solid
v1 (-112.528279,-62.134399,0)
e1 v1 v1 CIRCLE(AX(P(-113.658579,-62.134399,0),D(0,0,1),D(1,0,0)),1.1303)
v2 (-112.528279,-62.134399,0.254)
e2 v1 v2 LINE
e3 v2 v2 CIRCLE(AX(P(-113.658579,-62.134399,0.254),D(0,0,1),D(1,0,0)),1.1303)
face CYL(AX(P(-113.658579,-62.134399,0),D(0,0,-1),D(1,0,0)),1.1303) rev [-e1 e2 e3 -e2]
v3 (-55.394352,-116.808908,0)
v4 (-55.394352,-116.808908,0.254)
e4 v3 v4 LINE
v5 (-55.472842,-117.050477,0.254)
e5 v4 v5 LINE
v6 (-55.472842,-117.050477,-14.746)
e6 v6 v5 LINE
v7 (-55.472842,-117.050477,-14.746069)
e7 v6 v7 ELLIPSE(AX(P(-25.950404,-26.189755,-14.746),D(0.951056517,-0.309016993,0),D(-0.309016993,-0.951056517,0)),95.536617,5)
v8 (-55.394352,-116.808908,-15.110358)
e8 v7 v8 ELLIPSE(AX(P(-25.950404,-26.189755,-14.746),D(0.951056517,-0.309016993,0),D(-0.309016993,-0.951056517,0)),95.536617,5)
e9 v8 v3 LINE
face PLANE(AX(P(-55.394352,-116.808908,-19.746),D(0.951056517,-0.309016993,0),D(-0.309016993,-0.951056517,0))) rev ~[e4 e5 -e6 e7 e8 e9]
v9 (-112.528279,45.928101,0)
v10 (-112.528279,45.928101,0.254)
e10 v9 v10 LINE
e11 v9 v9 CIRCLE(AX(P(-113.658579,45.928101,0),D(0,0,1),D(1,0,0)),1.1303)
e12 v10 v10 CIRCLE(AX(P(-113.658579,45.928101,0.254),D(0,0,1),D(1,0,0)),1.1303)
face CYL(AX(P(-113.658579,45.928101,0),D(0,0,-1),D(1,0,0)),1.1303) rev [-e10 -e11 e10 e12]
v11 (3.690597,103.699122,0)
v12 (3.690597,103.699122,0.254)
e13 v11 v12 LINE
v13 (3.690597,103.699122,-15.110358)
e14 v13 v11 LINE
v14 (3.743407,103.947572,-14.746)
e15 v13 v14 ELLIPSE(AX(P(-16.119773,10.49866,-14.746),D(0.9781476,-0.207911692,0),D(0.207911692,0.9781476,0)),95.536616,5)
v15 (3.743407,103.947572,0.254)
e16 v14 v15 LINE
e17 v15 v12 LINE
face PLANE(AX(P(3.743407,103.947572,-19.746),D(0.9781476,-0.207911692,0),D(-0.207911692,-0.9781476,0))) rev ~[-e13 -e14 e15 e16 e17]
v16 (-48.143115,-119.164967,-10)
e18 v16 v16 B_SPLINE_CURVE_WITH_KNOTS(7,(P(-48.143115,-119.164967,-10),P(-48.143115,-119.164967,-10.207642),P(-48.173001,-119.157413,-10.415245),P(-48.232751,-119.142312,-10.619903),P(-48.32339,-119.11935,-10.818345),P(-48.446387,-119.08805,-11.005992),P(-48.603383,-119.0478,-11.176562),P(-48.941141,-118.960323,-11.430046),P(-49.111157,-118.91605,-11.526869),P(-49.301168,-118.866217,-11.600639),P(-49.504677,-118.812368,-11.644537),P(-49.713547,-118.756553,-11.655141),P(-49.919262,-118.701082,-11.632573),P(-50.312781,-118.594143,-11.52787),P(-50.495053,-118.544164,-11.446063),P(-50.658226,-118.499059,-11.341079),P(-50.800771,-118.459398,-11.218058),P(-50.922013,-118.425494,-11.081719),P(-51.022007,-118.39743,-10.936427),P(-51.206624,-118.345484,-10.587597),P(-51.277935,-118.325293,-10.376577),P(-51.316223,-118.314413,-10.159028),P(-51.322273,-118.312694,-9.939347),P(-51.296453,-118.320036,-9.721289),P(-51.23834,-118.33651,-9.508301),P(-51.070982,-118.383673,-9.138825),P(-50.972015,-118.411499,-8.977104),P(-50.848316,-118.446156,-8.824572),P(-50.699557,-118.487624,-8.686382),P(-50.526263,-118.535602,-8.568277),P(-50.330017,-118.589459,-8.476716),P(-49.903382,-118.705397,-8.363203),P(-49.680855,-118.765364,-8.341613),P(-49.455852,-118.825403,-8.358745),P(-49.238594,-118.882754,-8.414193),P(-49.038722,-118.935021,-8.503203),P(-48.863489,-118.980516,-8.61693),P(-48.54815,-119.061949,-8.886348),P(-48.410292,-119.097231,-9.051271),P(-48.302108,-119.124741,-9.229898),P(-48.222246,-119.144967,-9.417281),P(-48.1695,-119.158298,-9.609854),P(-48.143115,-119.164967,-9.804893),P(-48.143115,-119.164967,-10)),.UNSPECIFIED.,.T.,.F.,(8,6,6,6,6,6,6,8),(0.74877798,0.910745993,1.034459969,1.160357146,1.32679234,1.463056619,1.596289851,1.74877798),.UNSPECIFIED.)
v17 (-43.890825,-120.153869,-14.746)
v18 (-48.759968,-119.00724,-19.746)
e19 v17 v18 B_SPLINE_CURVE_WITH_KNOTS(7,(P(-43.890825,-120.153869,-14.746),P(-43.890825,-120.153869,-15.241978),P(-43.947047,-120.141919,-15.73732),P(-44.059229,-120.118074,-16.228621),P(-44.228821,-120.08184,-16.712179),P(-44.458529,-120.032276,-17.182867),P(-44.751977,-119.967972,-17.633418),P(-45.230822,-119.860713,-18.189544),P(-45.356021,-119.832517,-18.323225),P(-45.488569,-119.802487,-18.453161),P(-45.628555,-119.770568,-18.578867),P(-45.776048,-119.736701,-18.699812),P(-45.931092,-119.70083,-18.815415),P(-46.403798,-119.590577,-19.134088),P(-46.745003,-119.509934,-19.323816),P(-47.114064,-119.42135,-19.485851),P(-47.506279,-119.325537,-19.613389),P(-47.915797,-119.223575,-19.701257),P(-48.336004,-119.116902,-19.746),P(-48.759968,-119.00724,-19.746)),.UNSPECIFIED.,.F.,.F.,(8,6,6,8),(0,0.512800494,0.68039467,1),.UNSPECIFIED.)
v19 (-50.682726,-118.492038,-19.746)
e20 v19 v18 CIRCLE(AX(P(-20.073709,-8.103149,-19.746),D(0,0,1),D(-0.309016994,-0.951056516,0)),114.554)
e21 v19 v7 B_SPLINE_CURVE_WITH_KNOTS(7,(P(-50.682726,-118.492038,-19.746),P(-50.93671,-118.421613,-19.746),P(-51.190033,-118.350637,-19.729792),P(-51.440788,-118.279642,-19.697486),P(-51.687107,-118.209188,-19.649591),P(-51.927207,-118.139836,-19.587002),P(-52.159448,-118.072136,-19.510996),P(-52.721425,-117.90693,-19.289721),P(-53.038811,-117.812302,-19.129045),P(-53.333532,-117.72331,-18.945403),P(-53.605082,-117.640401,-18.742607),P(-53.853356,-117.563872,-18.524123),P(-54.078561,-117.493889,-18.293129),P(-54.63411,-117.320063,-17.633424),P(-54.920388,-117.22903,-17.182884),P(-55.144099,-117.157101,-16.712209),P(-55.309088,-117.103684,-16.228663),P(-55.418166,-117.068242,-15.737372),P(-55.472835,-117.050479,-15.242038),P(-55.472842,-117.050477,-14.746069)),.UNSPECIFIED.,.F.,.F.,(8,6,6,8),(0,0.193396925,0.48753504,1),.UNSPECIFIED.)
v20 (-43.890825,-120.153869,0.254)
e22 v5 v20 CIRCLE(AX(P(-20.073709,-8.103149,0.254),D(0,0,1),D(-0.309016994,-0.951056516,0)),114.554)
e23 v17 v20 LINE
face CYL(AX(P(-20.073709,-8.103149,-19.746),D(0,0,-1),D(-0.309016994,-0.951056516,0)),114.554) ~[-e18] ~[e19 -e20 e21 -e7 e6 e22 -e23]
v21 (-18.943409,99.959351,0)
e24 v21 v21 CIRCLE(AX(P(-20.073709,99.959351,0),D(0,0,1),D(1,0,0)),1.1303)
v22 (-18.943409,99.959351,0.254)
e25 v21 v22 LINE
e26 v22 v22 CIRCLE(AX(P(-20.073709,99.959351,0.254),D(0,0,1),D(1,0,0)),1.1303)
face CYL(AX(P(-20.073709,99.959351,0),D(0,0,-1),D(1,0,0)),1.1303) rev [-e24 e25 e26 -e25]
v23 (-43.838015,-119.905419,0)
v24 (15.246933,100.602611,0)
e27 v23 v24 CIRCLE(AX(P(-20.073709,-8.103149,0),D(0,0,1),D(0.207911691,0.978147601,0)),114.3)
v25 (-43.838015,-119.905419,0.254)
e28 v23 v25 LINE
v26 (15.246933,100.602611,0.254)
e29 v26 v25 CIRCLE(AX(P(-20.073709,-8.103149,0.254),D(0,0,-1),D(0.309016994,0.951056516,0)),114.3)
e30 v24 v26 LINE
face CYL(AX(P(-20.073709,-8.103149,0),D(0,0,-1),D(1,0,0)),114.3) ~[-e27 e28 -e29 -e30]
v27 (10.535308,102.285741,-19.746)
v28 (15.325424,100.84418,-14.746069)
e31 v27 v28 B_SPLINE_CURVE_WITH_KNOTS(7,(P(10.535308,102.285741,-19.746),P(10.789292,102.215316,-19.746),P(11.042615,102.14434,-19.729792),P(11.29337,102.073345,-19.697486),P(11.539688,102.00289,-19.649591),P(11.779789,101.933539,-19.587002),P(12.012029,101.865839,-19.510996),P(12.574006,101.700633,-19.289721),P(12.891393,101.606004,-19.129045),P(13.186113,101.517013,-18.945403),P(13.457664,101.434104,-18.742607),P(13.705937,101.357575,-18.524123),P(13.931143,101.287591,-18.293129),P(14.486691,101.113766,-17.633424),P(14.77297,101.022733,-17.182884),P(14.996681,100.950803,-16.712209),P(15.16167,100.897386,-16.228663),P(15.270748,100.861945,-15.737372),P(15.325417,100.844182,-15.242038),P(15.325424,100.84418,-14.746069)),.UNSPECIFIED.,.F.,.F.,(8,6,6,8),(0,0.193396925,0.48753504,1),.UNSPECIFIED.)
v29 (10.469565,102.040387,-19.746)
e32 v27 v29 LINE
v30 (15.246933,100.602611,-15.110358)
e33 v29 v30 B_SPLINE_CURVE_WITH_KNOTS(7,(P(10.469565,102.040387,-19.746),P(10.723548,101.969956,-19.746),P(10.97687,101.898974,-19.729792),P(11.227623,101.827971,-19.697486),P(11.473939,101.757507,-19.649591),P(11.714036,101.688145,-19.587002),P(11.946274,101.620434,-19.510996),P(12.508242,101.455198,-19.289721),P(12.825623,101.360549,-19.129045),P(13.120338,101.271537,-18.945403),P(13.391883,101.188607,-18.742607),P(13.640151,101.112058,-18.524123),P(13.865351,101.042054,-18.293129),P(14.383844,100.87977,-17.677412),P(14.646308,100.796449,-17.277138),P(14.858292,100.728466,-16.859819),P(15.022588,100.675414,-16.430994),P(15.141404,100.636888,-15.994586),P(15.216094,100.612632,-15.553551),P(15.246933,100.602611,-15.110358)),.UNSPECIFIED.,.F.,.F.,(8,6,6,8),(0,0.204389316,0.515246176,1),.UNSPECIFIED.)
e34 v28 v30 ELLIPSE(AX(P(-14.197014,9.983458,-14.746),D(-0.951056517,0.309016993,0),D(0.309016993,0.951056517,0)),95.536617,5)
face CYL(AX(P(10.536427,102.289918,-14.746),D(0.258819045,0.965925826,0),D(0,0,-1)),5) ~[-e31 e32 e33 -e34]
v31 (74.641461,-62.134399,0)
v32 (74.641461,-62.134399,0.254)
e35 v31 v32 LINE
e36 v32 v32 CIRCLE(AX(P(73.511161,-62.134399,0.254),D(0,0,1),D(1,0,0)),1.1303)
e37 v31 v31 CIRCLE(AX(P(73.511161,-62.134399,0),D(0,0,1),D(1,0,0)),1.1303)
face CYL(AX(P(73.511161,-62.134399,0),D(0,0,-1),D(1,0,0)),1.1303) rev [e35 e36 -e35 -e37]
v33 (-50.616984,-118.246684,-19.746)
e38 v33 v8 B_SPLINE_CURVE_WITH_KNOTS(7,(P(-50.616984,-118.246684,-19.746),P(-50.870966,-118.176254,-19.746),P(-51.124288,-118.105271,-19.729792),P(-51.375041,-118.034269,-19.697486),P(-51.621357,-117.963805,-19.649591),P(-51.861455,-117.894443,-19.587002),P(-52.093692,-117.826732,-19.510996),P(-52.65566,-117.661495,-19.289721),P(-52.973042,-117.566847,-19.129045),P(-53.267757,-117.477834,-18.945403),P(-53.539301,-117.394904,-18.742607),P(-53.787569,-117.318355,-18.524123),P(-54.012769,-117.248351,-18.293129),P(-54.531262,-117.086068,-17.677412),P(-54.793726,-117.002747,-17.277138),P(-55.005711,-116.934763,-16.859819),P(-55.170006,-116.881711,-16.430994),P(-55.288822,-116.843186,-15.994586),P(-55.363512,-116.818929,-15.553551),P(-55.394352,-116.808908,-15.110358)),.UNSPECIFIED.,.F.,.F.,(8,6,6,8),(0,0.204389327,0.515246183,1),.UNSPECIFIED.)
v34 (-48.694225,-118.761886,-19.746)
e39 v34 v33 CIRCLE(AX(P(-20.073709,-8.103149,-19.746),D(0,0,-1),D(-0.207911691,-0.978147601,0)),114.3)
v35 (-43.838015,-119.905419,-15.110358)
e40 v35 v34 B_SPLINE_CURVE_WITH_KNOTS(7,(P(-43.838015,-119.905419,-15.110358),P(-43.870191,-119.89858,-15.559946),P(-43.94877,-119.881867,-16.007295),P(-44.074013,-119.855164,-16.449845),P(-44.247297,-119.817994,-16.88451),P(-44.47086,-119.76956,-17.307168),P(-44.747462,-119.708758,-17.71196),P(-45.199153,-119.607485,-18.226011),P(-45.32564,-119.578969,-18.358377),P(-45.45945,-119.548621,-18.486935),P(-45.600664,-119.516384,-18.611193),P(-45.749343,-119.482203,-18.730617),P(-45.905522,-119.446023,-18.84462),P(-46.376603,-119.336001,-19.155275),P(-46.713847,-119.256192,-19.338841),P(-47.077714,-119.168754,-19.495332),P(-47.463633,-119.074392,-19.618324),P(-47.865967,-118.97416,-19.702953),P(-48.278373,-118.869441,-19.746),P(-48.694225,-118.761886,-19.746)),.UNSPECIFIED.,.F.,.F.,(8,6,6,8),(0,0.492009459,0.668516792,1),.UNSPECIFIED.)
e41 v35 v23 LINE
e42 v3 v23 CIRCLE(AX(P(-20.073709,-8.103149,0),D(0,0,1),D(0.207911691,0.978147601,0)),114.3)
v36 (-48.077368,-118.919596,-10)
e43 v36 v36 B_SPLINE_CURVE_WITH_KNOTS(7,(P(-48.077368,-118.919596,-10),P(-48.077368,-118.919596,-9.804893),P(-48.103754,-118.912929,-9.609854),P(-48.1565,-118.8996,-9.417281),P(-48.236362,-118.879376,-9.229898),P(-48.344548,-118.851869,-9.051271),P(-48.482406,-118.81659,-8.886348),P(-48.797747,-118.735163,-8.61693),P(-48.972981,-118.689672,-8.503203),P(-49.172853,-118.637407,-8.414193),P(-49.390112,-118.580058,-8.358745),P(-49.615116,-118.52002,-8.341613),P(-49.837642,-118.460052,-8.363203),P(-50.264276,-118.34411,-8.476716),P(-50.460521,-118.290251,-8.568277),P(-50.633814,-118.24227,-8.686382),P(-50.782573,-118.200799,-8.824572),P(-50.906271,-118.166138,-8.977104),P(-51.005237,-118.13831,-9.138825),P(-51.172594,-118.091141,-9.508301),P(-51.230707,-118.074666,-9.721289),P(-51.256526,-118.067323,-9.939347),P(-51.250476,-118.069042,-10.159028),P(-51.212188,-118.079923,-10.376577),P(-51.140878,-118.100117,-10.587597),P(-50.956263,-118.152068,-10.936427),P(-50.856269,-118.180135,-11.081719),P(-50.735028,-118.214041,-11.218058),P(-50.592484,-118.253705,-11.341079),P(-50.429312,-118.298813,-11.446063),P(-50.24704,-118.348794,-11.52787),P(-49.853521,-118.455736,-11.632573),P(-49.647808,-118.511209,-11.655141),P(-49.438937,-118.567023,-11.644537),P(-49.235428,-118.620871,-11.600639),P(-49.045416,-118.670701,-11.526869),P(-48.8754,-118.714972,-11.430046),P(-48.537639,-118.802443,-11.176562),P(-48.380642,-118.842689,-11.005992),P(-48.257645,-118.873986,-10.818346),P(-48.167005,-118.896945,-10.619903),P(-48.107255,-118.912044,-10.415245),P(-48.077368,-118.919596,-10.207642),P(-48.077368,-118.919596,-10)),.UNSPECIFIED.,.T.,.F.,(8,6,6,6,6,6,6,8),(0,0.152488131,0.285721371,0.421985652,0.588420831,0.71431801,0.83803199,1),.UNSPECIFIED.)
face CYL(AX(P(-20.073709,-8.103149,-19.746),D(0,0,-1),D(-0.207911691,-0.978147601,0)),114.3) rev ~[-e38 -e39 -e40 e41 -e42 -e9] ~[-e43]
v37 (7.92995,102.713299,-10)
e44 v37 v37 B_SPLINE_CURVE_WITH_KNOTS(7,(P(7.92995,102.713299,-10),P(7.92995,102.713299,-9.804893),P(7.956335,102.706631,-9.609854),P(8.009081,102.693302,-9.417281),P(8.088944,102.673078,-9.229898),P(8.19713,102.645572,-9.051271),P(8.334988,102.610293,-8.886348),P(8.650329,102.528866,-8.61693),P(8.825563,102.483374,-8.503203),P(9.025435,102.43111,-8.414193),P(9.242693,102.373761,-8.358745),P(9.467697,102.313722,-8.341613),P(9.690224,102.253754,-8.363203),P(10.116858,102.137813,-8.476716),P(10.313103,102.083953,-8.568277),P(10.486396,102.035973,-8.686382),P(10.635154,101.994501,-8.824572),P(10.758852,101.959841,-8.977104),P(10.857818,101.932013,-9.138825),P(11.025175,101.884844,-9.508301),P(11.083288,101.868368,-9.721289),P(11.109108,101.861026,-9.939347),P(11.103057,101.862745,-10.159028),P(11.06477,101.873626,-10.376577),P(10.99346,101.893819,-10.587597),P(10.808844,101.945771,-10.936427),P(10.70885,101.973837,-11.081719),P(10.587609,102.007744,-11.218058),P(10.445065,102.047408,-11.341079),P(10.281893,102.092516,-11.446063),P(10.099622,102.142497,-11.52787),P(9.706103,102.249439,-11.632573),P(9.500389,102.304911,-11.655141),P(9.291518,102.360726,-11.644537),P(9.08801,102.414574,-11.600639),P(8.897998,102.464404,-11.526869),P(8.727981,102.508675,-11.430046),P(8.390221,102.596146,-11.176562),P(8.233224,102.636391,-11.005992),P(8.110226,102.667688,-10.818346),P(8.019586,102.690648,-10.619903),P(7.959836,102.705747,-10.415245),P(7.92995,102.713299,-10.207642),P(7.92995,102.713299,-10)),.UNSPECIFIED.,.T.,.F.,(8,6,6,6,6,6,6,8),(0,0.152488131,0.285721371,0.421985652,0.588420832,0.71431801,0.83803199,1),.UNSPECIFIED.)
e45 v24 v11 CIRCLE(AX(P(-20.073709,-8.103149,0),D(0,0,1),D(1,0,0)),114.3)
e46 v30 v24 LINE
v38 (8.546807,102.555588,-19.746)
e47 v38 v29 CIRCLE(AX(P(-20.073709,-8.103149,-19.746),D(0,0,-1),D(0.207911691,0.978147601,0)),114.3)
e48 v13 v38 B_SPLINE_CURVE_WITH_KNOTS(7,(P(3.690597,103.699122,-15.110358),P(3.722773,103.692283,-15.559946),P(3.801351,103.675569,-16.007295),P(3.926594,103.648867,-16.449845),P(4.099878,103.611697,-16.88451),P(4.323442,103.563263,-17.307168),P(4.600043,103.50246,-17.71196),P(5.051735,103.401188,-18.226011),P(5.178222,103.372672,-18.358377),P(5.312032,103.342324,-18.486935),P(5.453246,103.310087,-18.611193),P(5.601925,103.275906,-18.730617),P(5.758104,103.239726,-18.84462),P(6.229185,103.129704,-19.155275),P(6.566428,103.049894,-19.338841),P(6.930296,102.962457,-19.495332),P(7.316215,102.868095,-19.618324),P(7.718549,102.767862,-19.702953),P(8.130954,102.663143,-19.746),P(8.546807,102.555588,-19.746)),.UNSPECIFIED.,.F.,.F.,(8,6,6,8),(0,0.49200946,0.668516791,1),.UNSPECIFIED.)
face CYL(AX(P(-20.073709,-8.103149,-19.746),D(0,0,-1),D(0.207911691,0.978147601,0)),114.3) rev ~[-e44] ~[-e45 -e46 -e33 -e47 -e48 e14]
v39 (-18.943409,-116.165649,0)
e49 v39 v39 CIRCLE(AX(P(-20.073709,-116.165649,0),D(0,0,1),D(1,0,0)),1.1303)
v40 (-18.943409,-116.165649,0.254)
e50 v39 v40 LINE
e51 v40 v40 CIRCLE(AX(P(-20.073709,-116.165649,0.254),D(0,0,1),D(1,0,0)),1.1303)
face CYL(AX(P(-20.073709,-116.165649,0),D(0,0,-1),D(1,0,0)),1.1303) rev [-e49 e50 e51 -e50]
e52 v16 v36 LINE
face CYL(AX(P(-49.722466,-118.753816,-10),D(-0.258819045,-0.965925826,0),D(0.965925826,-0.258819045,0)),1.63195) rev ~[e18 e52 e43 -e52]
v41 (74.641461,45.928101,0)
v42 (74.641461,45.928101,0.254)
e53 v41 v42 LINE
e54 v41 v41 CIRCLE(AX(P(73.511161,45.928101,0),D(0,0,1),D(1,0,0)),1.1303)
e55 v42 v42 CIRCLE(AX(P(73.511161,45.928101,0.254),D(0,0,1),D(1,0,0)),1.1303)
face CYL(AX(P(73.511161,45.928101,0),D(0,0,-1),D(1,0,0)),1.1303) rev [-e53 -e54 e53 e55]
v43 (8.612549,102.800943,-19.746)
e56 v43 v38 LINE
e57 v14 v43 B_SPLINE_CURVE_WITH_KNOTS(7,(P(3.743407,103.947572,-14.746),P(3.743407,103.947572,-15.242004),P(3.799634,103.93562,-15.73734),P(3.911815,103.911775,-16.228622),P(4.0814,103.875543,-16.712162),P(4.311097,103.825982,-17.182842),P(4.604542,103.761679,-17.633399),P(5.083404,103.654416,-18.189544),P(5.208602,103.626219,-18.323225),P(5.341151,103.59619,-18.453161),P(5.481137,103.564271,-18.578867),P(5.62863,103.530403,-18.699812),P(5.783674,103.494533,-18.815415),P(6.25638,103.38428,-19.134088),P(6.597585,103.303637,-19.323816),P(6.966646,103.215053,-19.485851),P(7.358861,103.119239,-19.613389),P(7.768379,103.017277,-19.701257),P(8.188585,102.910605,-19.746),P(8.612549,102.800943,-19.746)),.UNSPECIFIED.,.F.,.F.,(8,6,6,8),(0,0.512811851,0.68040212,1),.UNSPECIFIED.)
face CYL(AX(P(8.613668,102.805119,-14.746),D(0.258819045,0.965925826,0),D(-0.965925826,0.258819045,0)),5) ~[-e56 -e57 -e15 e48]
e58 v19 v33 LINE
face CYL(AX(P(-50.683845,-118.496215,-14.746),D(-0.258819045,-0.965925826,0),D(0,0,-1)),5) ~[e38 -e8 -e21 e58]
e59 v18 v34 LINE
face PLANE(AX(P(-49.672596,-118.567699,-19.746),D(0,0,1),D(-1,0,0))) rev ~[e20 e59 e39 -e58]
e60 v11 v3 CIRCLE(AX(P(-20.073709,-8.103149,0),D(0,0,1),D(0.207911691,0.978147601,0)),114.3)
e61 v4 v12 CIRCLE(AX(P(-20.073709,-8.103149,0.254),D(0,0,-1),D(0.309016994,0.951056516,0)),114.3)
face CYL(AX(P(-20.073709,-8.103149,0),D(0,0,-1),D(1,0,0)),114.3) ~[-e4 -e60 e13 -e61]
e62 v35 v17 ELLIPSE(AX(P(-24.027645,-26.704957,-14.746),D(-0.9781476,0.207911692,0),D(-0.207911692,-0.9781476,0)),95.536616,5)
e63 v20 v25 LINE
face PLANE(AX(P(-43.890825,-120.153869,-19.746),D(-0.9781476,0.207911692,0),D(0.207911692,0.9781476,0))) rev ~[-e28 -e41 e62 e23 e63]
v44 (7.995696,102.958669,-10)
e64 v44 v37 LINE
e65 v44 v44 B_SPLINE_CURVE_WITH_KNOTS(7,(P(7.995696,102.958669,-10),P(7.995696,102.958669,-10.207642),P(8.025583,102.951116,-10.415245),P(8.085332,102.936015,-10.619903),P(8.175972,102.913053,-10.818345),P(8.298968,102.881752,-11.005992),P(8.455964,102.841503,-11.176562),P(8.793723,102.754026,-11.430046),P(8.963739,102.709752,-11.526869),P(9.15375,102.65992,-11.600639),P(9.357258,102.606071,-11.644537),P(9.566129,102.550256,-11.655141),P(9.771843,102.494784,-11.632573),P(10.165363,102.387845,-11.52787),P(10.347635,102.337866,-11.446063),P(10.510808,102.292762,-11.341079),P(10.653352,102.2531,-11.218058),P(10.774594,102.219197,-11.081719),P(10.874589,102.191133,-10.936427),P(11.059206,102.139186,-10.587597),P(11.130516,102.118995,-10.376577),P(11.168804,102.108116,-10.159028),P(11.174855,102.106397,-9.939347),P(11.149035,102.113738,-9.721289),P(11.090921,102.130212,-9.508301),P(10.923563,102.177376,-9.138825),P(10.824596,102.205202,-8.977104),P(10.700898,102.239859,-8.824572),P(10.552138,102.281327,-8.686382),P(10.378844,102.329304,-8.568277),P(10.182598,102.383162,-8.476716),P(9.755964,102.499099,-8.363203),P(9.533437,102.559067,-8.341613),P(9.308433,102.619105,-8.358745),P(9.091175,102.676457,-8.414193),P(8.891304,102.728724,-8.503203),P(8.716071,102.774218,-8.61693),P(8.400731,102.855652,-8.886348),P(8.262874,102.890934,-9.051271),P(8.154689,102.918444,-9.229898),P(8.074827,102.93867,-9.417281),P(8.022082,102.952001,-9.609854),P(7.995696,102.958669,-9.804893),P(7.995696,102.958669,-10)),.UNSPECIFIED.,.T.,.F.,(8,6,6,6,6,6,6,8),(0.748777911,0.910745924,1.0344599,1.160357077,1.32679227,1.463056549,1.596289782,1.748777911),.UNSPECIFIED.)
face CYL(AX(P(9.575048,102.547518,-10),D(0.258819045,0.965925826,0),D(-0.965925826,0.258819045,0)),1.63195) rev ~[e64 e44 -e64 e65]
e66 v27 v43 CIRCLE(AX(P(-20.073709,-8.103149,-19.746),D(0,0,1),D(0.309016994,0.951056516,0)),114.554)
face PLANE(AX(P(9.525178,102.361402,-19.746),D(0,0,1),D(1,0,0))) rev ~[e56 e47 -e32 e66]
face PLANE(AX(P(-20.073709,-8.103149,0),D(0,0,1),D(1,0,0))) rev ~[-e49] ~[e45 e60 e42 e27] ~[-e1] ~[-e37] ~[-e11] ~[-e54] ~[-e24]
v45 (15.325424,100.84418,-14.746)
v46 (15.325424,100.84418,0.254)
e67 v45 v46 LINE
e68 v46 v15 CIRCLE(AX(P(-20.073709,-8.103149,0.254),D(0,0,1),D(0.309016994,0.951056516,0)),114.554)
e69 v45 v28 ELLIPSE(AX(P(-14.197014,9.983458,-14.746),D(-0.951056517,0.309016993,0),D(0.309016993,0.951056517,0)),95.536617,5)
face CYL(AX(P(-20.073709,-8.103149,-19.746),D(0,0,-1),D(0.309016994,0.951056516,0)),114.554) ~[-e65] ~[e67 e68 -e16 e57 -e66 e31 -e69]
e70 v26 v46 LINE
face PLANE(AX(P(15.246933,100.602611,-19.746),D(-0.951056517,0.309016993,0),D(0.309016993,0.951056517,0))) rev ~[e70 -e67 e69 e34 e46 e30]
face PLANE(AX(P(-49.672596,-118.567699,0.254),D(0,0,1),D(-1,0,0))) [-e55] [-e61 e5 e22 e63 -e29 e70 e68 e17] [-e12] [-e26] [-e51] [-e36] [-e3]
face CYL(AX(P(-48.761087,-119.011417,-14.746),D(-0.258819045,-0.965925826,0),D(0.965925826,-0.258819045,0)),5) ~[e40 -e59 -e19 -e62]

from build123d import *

# Parameters (mm, degrees)
SKETCH1_R           = 114.3
SKETCH1_R_2         = 1.1303
BOSS_EXTRUDE1_DEPTH = 0.254
BOSS_EXTRUDE2_START = -20
BOSS_EXTRUDE2_DEPTH = 20
SKETCH3_R           = 1.63195
CUT_EXTRUDE1_DEPTH  = 268.813456051
CIRPATTERN1_COUNT   = 2


with BuildPart() as part:
    # Sketch1 → Boss-Extrude1 (new body)
    with BuildSketch(Plane.XY):
        with Locations((-20.073709177, -8.103148659)):
            Circle(SKETCH1_R)
        with Locations((-20.073709177, -116.165648659)):
            Circle(SKETCH1_R_2, mode=Mode.SUBTRACT)
        with Locations((-113.658579374, -62.134398659)):
            Circle(SKETCH1_R_2, mode=Mode.SUBTRACT)
        with Locations((73.511161019, -62.134398659)):
            Circle(SKETCH1_R_2, mode=Mode.SUBTRACT)
        with Locations((-113.658579374, 45.928101341)):
            Circle(SKETCH1_R_2, mode=Mode.SUBTRACT)
        with Locations((73.511161019, 45.928101341)):
            Circle(SKETCH1_R_2, mode=Mode.SUBTRACT)
        with Locations((-20.073709177, 99.959351341)):
            Circle(SKETCH1_R_2, mode=Mode.SUBTRACT)
    extrude(amount=BOSS_EXTRUDE1_DEPTH)

    # Sketch2 → Boss-Extrude2 (add)
    with BuildSketch(Plane.XY.offset(0.254).offset(BOSS_EXTRUDE2_START)):
        with BuildLine():
            Line((3.743406653, 103.947571596), (3.690597083, 103.699122105))
            ThreePointArc((3.690597083, 103.699122105), (9.509307678, 102.302173286), (15.24693328, 100.602611154))
            Line((15.24693328, 100.602611154), (15.325423596, 100.844179509))
            ThreePointArc((15.325423596, 100.844179509), (9.575047716, 102.547518446), (3.743406653, 103.947571596))
        make_face()
    boss_extrude2 = extrude(amount=BOSS_EXTRUDE2_DEPTH)

    # Sketch3 → Cut-Extrude1 (cut, through all)
    with BuildSketch(Plane(origin=(9.575047716, 102.547518446, 0.254), x_dir=(-0.96592582628907, 0.25881904510251436, 0), z_dir=(0.25881904510251436, 0.96592582628907, 0))):
        with Locations((0, -10.254)):
            Circle(SKETCH3_R)
        with BuildLine():
            Line((-5.995293131, -20), (-0.995293131, -20))
            ThreePointArc((-0.995293131, -20), (-4.530827037, -18.535533906), (-5.995293131, -15))
            Line((-5.995293131, -15), (-5.995293131, -20))
        make_face()
        with BuildLine():
            ThreePointArc((5.995293131, -15), (4.530827037, -18.535533906), (0.995293131, -20))
            Line((0.995293131, -20), (5.995293131, -20))
            Line((5.995293131, -20), (5.995293131, -15))
        make_face()
    cut_extrude1 = extrude(amount=-CUT_EXTRUDE1_DEPTH, mode=Mode.SUBTRACT)

    # CirPattern1: Boss-Extrude2, Cut-Extrude1 ×2 about axis
    cirpattern1_axis = Axis((-20.073709177, -8.103148659, 0.254), (0, 0, -1))
    add([boss_extrude2.rotate(cirpattern1_axis, i * 360 / CIRPATTERN1_COUNT) for i in range(1, CIRPATTERN1_COUNT)])
    add([cut_extrude1.rotate(cirpattern1_axis, i * 360 / CIRPATTERN1_COUNT) for i in range(1, CIRPATTERN1_COUNT)], mode=Mode.SUBTRACT)


solid = part.part
